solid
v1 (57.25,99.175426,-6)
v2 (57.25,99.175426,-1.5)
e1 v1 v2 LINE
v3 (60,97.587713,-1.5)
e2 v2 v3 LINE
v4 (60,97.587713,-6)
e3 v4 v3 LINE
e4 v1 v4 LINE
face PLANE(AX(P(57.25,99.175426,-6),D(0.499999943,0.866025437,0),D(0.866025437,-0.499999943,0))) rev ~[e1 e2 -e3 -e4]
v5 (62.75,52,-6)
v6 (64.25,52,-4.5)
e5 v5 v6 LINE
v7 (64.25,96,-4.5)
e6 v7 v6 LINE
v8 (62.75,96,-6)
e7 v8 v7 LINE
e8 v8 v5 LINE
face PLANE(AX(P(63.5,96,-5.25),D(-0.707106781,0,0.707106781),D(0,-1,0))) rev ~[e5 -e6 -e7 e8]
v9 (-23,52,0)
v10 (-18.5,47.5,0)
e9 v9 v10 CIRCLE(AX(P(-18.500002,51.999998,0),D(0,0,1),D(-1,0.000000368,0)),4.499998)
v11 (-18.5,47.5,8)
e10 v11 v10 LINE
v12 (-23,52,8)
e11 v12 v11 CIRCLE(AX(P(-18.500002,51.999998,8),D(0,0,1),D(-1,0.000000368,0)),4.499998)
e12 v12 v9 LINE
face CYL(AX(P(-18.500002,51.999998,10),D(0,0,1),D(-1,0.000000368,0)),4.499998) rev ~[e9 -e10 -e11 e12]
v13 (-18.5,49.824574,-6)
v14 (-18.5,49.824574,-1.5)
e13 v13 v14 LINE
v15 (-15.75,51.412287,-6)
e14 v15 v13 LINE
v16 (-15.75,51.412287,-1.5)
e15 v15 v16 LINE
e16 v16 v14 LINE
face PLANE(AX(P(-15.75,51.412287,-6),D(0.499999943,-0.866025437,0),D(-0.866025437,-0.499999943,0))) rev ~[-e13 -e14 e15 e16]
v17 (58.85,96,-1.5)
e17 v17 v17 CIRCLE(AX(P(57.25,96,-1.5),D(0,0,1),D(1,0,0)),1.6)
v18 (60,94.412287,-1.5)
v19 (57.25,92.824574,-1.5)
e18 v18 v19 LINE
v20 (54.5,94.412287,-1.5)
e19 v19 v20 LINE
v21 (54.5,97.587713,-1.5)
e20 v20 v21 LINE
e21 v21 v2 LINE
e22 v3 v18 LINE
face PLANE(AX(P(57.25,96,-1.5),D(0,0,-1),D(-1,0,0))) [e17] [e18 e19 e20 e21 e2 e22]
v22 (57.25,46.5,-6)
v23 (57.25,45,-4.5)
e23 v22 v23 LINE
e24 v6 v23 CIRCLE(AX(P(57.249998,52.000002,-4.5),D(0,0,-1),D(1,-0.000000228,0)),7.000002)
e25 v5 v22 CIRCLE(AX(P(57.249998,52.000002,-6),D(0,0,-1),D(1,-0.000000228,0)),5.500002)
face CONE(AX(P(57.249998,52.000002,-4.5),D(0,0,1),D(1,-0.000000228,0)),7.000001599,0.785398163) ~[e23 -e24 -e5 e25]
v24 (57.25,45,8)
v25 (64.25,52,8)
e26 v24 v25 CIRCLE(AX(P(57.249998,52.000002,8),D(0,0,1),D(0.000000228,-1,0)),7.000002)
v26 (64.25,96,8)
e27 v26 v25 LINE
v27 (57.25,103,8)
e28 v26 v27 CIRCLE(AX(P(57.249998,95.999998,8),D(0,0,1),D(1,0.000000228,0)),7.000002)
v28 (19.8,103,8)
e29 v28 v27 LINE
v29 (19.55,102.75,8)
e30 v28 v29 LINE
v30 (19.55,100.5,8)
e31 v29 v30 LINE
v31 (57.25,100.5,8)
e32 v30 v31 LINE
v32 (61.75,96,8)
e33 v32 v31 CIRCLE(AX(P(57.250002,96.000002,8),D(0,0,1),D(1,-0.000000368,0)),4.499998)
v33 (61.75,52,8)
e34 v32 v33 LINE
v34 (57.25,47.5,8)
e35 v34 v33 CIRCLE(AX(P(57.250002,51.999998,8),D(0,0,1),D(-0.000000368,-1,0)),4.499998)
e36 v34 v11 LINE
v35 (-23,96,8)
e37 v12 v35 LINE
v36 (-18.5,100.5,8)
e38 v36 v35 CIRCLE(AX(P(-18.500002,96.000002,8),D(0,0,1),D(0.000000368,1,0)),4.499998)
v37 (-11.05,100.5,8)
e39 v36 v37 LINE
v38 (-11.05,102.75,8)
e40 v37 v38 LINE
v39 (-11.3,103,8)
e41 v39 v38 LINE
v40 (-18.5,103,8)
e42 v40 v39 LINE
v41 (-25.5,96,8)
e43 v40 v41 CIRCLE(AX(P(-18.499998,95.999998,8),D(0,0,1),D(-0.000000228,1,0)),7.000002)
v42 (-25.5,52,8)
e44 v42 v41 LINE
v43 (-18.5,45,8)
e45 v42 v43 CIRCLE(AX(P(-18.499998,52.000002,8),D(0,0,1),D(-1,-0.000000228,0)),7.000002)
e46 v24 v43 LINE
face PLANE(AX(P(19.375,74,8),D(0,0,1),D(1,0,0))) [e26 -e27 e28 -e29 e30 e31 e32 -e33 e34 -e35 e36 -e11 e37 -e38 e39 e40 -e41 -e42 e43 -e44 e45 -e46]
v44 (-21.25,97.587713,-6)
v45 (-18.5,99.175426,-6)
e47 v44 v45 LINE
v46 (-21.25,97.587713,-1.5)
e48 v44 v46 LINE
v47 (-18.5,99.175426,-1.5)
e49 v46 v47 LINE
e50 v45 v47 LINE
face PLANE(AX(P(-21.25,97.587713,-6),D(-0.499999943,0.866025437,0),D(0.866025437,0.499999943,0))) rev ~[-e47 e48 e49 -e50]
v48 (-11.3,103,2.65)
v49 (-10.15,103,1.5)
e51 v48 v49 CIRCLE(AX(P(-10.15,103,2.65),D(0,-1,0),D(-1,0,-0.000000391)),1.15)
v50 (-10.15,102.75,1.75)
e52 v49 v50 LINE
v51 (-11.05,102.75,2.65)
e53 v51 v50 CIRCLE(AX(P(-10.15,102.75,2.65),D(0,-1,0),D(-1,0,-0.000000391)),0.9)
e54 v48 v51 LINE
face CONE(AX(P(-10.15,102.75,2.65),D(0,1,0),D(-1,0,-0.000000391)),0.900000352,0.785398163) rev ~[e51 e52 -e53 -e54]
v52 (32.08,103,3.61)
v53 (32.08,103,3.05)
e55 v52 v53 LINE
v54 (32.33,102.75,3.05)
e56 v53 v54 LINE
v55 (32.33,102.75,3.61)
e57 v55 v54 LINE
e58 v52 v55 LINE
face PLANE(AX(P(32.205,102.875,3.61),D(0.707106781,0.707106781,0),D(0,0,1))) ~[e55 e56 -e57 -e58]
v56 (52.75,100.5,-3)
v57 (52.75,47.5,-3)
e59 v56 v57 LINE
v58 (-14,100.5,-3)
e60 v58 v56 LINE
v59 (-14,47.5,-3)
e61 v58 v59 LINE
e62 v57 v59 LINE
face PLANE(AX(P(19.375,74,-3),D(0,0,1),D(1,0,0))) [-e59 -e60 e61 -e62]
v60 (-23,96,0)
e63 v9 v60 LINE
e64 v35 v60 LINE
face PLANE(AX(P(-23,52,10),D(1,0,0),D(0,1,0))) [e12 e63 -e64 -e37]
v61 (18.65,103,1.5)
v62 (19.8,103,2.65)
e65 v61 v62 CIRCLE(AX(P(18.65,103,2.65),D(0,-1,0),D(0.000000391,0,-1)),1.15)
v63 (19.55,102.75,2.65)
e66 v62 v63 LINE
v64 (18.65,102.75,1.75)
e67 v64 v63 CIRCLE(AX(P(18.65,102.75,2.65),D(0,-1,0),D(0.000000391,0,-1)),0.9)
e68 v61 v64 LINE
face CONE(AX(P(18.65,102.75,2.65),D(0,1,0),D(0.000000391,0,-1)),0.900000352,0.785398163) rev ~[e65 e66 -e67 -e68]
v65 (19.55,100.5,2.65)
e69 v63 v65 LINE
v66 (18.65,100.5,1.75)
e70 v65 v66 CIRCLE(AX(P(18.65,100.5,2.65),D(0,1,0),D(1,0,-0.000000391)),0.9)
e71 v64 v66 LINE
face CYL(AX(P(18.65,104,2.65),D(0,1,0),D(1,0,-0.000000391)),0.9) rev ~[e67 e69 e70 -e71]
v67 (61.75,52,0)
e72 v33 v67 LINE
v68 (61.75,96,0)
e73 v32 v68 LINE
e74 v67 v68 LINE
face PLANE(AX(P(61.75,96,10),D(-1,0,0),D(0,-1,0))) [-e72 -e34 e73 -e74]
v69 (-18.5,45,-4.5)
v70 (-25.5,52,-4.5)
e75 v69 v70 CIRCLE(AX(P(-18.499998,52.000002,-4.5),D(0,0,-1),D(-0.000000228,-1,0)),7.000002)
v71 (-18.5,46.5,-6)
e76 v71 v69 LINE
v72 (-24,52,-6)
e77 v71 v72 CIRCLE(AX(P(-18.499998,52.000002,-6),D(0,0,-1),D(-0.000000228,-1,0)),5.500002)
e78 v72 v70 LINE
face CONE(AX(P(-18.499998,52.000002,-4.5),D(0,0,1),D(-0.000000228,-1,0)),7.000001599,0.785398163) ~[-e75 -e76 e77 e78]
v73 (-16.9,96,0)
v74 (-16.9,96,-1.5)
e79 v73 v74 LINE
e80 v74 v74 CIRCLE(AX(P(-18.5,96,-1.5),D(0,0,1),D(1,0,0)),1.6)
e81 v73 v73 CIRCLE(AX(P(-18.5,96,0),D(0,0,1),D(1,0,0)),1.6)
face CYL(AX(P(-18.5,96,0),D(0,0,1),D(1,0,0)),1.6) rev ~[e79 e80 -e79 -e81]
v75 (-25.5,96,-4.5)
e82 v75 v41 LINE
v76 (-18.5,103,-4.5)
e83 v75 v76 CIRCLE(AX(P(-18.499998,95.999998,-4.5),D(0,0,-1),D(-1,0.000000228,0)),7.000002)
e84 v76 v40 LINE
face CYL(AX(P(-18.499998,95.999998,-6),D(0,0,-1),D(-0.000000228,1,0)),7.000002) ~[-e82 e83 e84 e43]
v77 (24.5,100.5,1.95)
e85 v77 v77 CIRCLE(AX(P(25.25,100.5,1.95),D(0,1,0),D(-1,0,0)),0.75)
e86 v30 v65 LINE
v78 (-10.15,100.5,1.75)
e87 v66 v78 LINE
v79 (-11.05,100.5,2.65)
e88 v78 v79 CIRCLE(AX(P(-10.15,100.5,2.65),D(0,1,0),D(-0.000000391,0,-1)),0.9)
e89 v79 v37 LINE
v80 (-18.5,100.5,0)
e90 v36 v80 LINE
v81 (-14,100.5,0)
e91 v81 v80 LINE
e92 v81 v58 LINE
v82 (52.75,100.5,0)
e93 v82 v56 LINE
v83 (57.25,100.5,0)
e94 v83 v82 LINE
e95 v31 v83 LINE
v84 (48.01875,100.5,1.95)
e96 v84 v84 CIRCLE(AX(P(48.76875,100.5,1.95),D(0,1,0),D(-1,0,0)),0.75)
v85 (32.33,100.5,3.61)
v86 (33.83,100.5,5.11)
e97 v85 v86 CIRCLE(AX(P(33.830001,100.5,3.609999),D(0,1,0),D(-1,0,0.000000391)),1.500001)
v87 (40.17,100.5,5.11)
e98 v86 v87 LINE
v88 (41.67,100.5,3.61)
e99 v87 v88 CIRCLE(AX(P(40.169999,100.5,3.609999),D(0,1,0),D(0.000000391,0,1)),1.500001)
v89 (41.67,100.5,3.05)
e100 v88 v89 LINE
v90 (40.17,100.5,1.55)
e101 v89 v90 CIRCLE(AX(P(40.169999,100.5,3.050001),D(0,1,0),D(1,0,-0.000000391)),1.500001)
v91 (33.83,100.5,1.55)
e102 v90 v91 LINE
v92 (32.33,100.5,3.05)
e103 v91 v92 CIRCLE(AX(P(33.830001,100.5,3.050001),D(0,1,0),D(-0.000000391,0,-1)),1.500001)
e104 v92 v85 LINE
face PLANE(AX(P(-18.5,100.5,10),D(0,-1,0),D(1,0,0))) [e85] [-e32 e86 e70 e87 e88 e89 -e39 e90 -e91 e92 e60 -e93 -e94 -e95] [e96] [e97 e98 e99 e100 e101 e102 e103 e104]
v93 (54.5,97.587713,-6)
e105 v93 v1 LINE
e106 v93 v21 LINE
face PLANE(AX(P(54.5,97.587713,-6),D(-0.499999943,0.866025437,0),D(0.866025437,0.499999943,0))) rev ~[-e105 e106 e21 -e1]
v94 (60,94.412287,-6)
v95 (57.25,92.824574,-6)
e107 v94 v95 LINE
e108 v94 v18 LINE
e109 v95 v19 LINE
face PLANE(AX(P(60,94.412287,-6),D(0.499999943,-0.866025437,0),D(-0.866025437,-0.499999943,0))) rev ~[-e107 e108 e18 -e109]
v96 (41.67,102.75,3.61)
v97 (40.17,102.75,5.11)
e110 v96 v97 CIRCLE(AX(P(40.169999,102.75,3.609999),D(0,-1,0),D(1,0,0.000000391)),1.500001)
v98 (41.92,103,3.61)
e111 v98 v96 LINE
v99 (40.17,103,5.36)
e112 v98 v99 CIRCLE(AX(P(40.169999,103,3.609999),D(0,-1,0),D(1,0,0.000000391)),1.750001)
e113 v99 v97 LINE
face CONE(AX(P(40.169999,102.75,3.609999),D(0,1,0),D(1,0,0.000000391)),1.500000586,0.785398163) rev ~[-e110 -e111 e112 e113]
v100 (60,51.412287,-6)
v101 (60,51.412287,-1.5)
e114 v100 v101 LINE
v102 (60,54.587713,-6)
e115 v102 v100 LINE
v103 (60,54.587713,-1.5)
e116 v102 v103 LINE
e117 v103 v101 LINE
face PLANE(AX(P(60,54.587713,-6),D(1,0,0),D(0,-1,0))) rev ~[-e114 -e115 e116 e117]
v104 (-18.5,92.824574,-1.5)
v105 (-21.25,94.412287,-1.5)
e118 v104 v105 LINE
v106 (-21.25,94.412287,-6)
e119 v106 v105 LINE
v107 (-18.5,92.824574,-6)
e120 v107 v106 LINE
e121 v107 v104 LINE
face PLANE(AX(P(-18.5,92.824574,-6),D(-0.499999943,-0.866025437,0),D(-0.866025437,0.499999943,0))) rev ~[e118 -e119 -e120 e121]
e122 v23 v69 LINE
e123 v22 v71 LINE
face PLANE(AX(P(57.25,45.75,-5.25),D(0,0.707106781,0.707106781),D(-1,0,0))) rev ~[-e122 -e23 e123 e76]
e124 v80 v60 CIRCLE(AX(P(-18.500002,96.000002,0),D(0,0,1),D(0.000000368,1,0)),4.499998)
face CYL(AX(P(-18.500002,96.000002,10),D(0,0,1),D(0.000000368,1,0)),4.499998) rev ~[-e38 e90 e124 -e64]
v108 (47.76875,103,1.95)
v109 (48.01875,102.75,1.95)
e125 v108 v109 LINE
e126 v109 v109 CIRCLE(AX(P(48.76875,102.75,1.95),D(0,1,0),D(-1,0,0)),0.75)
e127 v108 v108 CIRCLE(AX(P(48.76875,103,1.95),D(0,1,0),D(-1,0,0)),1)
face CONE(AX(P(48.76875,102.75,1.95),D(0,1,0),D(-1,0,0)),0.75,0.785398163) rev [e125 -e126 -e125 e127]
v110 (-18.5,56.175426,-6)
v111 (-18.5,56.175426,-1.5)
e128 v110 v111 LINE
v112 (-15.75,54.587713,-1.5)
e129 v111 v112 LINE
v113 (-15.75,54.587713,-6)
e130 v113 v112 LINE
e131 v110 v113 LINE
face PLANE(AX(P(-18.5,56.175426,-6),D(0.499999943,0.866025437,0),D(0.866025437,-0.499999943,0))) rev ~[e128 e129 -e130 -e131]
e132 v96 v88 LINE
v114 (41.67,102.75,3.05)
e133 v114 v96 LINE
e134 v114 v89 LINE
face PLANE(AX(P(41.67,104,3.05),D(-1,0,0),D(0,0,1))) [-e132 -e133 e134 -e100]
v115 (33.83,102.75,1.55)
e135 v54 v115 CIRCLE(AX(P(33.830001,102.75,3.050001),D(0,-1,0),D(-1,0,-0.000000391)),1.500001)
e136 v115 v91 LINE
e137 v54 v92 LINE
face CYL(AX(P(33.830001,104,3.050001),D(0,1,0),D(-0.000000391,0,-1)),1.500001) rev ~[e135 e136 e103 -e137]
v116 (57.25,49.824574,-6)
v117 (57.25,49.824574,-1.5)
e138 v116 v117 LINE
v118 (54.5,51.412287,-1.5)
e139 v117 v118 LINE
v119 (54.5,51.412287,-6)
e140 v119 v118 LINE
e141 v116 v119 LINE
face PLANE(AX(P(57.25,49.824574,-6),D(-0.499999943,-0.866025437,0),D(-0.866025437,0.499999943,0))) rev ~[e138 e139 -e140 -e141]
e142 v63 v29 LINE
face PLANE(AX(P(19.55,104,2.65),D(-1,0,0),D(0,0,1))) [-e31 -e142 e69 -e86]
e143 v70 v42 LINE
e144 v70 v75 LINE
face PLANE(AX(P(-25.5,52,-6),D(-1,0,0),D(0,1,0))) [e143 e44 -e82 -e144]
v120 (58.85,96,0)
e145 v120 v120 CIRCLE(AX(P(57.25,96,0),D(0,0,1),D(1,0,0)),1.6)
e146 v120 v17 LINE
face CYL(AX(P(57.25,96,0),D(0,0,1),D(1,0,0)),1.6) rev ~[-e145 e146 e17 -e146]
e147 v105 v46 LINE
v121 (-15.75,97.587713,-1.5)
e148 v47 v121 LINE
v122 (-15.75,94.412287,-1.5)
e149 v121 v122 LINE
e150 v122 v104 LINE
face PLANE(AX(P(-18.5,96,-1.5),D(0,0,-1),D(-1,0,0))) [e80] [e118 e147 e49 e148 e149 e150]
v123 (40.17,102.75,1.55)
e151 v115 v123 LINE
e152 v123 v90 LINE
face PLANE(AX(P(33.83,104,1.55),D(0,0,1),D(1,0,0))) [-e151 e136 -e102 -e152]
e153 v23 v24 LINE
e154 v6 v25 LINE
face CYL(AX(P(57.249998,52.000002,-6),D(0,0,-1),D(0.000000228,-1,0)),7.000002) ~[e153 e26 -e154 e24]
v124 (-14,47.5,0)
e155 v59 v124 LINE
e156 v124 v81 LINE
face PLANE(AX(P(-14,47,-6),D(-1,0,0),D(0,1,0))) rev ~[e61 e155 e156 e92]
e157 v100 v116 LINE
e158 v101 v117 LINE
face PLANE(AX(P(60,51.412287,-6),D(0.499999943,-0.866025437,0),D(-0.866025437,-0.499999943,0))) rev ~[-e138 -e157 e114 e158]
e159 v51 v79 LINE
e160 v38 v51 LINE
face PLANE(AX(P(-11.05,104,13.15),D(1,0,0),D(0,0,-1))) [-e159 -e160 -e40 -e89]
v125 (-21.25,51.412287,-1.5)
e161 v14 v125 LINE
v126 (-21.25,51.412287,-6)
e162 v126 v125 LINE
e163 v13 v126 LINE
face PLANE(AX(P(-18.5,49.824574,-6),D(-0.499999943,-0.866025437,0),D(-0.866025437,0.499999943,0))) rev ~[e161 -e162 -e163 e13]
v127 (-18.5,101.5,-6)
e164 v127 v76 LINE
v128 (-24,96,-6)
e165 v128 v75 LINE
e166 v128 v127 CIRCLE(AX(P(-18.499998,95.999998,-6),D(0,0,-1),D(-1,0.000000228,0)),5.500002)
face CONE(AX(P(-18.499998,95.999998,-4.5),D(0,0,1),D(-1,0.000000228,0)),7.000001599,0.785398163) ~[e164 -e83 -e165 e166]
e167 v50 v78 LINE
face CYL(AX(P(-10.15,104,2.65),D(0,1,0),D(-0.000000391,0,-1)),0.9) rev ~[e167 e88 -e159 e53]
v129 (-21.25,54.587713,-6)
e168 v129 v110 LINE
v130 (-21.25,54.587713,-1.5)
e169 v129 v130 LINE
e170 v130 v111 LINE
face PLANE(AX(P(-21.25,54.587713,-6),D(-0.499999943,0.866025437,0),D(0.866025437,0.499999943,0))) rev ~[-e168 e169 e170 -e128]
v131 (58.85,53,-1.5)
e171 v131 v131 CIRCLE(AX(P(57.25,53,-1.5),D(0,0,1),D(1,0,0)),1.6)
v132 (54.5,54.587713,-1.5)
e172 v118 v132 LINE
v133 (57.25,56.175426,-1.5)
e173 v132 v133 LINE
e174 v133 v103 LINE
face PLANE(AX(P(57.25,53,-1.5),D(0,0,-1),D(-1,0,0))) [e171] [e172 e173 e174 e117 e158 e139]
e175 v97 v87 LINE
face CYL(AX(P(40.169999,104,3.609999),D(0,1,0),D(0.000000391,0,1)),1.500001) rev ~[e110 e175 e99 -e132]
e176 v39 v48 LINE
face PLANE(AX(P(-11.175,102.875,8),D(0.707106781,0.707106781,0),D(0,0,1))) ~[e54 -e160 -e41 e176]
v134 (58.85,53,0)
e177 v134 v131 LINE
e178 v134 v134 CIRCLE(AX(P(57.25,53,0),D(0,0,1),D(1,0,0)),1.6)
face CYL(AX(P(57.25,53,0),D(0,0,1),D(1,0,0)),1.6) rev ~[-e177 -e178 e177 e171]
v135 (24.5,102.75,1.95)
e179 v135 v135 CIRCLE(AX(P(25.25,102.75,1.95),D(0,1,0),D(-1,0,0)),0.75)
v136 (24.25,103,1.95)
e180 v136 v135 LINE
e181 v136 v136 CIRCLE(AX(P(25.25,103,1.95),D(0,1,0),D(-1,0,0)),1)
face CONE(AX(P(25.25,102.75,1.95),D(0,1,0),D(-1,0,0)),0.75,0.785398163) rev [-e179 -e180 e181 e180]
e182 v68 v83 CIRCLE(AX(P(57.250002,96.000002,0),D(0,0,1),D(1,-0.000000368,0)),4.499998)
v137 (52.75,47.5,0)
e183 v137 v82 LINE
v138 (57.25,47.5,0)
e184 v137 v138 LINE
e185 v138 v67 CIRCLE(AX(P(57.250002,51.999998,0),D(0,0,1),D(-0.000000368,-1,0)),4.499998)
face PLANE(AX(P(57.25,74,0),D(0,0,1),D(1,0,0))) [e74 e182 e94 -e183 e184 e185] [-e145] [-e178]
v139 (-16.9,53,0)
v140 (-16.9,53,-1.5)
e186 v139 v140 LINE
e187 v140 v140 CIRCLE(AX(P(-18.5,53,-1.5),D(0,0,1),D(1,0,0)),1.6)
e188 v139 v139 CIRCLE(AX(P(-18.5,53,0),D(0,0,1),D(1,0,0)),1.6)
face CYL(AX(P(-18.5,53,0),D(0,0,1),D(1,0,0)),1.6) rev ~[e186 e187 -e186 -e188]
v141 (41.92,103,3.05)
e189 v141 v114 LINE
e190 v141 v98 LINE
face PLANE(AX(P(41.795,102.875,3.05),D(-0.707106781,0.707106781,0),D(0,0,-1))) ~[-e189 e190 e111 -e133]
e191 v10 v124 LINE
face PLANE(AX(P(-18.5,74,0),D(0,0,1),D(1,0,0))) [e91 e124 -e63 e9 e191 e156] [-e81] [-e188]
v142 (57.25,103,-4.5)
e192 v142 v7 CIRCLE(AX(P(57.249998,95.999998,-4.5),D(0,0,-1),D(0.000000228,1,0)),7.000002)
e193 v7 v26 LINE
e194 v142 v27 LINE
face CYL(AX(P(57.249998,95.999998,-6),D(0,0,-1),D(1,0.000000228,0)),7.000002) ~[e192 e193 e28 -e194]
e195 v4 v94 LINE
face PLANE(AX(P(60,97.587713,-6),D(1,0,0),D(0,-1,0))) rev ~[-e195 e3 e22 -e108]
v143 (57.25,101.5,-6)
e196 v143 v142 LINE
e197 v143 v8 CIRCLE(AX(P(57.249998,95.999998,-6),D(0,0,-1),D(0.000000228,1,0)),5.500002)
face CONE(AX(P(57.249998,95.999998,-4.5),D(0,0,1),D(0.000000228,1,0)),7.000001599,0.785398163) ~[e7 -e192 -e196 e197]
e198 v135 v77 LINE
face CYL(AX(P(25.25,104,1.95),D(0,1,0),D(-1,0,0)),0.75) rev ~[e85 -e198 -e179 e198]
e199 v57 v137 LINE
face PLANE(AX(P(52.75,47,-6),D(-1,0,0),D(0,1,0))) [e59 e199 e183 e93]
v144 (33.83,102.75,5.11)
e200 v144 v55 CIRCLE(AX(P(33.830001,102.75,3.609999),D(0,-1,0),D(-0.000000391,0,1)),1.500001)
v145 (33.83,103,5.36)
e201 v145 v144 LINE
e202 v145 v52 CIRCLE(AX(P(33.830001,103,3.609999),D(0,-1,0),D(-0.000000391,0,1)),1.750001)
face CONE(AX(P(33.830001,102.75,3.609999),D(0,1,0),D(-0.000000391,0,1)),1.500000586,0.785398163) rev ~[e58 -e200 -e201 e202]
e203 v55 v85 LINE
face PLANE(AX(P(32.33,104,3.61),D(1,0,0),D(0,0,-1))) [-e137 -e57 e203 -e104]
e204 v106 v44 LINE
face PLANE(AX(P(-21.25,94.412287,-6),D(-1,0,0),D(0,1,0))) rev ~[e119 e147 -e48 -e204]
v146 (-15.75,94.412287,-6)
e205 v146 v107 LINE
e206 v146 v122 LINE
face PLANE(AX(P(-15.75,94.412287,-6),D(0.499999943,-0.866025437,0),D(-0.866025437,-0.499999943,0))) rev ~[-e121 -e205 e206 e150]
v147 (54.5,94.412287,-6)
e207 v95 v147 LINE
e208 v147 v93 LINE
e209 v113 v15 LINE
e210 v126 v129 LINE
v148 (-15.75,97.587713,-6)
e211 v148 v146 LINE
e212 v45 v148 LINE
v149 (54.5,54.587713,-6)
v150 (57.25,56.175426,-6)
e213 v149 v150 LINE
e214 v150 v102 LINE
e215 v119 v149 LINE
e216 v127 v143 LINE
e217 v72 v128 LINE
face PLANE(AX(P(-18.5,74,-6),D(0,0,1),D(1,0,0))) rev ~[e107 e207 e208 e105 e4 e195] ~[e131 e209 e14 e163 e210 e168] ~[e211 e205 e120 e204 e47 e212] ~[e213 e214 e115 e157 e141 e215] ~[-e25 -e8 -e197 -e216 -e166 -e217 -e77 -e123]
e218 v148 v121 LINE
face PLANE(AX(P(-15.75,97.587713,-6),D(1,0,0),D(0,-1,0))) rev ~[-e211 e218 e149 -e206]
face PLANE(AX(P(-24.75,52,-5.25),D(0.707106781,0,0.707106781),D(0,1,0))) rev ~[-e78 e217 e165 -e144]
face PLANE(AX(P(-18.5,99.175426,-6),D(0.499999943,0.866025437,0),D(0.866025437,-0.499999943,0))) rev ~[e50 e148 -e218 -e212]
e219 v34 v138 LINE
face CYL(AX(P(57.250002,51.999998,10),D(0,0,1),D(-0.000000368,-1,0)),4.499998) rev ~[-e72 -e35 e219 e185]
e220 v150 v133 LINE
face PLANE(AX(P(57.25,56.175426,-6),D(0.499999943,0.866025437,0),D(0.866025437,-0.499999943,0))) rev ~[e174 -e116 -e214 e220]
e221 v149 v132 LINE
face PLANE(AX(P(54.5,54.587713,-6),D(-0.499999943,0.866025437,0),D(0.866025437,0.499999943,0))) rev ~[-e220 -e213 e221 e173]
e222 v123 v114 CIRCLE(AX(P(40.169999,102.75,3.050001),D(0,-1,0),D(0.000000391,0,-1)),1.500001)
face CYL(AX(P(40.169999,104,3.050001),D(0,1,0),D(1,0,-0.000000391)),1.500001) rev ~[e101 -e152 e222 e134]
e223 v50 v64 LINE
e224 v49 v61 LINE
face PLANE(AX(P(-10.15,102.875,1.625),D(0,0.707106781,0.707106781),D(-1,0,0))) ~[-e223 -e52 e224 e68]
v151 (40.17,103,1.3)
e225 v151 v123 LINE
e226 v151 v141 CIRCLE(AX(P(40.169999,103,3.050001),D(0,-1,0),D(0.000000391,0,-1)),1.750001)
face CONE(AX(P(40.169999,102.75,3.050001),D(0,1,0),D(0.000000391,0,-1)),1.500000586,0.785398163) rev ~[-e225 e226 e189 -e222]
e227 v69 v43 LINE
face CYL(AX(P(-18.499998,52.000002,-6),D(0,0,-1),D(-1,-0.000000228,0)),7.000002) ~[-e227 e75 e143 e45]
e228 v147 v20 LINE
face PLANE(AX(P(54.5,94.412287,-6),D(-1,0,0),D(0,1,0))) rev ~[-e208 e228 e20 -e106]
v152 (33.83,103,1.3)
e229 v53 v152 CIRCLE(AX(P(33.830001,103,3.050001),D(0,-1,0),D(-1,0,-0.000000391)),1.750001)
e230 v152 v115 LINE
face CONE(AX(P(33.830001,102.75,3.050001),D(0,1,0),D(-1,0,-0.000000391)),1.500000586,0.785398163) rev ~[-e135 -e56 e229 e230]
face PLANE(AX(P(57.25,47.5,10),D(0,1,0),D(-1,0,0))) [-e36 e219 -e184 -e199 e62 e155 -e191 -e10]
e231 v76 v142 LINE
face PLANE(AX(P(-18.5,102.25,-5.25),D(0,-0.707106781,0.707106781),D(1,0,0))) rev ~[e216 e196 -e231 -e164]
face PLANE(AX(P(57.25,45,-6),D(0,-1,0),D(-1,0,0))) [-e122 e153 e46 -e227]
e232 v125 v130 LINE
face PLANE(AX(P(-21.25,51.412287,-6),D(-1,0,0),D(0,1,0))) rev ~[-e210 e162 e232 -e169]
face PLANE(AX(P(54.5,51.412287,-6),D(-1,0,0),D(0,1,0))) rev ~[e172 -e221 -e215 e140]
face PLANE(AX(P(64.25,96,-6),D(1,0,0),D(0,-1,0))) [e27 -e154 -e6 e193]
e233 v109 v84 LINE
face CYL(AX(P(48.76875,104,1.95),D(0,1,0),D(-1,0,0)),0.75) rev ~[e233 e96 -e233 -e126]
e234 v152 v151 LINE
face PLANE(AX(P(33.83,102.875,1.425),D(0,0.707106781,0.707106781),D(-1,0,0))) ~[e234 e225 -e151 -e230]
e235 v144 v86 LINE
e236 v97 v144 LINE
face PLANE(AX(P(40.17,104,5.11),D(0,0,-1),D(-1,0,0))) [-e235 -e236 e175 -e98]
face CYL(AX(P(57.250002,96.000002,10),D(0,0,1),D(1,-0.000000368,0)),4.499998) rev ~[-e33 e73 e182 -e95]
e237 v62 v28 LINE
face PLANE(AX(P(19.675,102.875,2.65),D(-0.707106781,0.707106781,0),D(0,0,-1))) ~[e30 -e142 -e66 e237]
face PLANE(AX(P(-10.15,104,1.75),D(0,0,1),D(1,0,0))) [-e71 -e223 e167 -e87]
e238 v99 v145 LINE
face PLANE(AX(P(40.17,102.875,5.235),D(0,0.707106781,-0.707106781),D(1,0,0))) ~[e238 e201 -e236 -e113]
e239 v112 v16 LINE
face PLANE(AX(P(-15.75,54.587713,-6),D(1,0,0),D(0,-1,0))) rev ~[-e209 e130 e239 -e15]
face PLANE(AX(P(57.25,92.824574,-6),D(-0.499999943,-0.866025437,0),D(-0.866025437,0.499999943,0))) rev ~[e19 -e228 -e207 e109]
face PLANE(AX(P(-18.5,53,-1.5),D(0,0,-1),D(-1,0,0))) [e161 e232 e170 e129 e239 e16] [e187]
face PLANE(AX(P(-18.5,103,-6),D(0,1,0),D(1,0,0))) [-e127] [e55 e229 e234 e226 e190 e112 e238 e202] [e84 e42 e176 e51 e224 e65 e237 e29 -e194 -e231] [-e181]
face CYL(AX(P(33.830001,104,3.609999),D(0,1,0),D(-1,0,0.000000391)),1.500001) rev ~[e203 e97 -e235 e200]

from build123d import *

# Parameters (mm, degrees)
PAD_DEPTH       = 14
POCKET_DEPTH    = 13
SKETCH002_R     = 0.75
POCKET001_DEPTH = 5
SKETCH003_W     = 9
SKETCH003_H     = 54
PAD001_DEPTH    = 6
SKETCH004_R     = 1.6
POCKET002_DEPTH = 10
POCKET003_DEPTH = 4.5
CHAMFER001_SIZE = 1.5
CHAMFER003_SIZE = 0.25


with BuildPart() as part:
    # Sketch → Pad (new body)
    with BuildSketch(Plane.XY.offset(-6)):
        with BuildLine():
            ThreePointArc((-18.5, 103), (-23.449747, 100.949747), (-25.5, 96))
            Line((-25.5, 52), (-25.5, 96))
            ThreePointArc((-25.5, 52), (-23.449747, 47.050253), (-18.5, 45))
            Line((57.25, 45), (-18.5, 45))
            ThreePointArc((57.25, 45), (62.199747, 47.050253), (64.25, 52))
            Line((64.25, 96), (64.25, 52))
            ThreePointArc((64.25, 96), (62.199747, 100.949747), (57.25, 103))
            Line((-18.5, 103), (57.25, 103))
        make_face()
    extrude(amount=PAD_DEPTH)

    # Sketch001 → Pocket (cut)
    with BuildSketch(Plane.XY.offset(10)):
        with BuildLine():
            ThreePointArc((-18.5, 100.5), (-21.681981, 99.181981), (-23, 96))
            Line((-23, 52), (-23, 96))
            ThreePointArc((-23, 52), (-21.681981, 48.818019), (-18.5, 47.5))
            Line((57.25, 47.5), (-18.5, 47.5))
            ThreePointArc((57.25, 47.5), (60.431981, 48.818019), (61.75, 52))
            Line((61.75, 96), (61.75, 52))
            ThreePointArc((61.75, 96), (60.431981, 99.181981), (57.25, 100.5))
            Line((-18.5, 100.5), (57.25, 100.5))
        make_face()
    extrude(amount=-POCKET_DEPTH, mode=Mode.SUBTRACT)

    # Sketch002 → Pocket001 (cut)
    with BuildSketch(Plane(origin=(0, 104, 0), x_dir=(-1, 0, 0), z_dir=(0, 1, 0))):
        with Locations((-48.76875, 1.95)):
            Circle(SKETCH002_R)
        with Locations((-25.25, 1.95)):
            Circle(SKETCH002_R)
        with BuildLine():
            ThreePointArc((-40.17, 5.11), (-41.23066, 4.67066), (-41.67, 3.61))
            Line((-41.67, 3.05), (-41.67, 3.61))
            ThreePointArc((-41.67, 3.05), (-41.23066, 1.98934), (-40.17, 1.55))
            Line((-33.83, 1.55), (-40.17, 1.55))
            ThreePointArc((-33.83, 1.55), (-32.76934, 1.98934), (-32.33, 3.05))
            Line((-32.33, 3.61), (-32.33, 3.05))
            ThreePointArc((-32.33, 3.61), (-32.76934, 4.67066), (-33.83, 5.11))
            Line((-40.17, 5.11), (-33.83, 5.11))
        make_face()
        with BuildLine():
            ThreePointArc((-18.65, 14.05), (-19.286396, 13.786396), (-19.55, 13.15))
            Line((-19.55, 2.65), (-19.55, 13.15))
            ThreePointArc((-19.55, 2.65), (-19.286396, 2.013604), (-18.65, 1.75))
            Line((10.15, 1.75), (-18.65, 1.75))
            ThreePointArc((10.15, 1.75), (10.786396, 2.013604), (11.05, 2.65))
            Line((11.05, 13.15), (11.05, 2.65))
            ThreePointArc((11.05, 13.15), (10.786396, 13.786396), (10.15, 14.05))
            Line((-18.65, 14.05), (10.15, 14.05))
        make_face()
    extrude(amount=-POCKET001_DEPTH, mode=Mode.SUBTRACT)

    # Sketch003 → Pad001 (join)
    with BuildSketch(Plane.XY.offset(-6)):
        with Locations((-18.5, 74)):
            Rectangle(SKETCH003_W, SKETCH003_H)
        with Locations((57.25, 74)):
            Rectangle(SKETCH003_W, SKETCH003_H)
    extrude(amount=PAD001_DEPTH)

    # Sketch004 → Pocket002 (cut)
    with BuildSketch(Plane.XY):
        with Locations((-18.5, 96)):
            Circle(SKETCH004_R)
        with Locations((-18.5, 53)):
            Circle(SKETCH004_R)
        with Locations((57.25, 53)):
            Circle(SKETCH004_R)
        with Locations((57.25, 96)):
            Circle(SKETCH004_R)
    extrude(amount=-POCKET002_DEPTH, mode=Mode.SUBTRACT)

    # Sketch005 → Pocket003 (cut)
    with BuildSketch(Plane(origin=(0, 0, -6), x_dir=(-1, 0, 0), z_dir=(0, 0, -1))):
        Polygon((21.25, 94.412287), (21.25, 97.587713), (18.5, 99.175426), (15.75, 97.587713), (15.75, 94.412287), (18.5, 92.824574), align=None)
        Polygon((21.25, 51.412287), (21.25, 54.587713), (18.5, 56.175426), (15.75, 54.587713), (15.75, 51.412287), (18.5, 49.824574), align=None)
        Polygon((-54.5, 54.587713), (-57.25, 56.175426), (-60, 54.587713), (-60, 51.412287), (-57.25, 49.824574), (-54.5, 51.412287), align=None)
        Polygon((-54.5, 94.412287), (-54.5, 97.587713), (-57.25, 99.175426), (-60, 97.587713), (-60, 94.412287), (-57.25, 92.824574), align=None)
    extrude(amount=-POCKET003_DEPTH, mode=Mode.SUBTRACT)

    # Chamfer001
    chamfer001_edges = [part.edges().sort_by_distance(p)[0] for p in [
        (64.25, 74, -6),
    ]]
    chamfer(chamfer001_edges, length=CHAMFER001_SIZE)

    # Chamfer003
    chamfer003_edges = [part.edges().sort_by_distance(p)[0] for p in [
        (49.51875, 103, 1.95),
        (37, 103, 5.11),
        (26, 103, 1.95),
        (19.55, 103, 5.325),
    ]]
    chamfer(chamfer003_edges, length=CHAMFER003_SIZE)


solid = part.part
